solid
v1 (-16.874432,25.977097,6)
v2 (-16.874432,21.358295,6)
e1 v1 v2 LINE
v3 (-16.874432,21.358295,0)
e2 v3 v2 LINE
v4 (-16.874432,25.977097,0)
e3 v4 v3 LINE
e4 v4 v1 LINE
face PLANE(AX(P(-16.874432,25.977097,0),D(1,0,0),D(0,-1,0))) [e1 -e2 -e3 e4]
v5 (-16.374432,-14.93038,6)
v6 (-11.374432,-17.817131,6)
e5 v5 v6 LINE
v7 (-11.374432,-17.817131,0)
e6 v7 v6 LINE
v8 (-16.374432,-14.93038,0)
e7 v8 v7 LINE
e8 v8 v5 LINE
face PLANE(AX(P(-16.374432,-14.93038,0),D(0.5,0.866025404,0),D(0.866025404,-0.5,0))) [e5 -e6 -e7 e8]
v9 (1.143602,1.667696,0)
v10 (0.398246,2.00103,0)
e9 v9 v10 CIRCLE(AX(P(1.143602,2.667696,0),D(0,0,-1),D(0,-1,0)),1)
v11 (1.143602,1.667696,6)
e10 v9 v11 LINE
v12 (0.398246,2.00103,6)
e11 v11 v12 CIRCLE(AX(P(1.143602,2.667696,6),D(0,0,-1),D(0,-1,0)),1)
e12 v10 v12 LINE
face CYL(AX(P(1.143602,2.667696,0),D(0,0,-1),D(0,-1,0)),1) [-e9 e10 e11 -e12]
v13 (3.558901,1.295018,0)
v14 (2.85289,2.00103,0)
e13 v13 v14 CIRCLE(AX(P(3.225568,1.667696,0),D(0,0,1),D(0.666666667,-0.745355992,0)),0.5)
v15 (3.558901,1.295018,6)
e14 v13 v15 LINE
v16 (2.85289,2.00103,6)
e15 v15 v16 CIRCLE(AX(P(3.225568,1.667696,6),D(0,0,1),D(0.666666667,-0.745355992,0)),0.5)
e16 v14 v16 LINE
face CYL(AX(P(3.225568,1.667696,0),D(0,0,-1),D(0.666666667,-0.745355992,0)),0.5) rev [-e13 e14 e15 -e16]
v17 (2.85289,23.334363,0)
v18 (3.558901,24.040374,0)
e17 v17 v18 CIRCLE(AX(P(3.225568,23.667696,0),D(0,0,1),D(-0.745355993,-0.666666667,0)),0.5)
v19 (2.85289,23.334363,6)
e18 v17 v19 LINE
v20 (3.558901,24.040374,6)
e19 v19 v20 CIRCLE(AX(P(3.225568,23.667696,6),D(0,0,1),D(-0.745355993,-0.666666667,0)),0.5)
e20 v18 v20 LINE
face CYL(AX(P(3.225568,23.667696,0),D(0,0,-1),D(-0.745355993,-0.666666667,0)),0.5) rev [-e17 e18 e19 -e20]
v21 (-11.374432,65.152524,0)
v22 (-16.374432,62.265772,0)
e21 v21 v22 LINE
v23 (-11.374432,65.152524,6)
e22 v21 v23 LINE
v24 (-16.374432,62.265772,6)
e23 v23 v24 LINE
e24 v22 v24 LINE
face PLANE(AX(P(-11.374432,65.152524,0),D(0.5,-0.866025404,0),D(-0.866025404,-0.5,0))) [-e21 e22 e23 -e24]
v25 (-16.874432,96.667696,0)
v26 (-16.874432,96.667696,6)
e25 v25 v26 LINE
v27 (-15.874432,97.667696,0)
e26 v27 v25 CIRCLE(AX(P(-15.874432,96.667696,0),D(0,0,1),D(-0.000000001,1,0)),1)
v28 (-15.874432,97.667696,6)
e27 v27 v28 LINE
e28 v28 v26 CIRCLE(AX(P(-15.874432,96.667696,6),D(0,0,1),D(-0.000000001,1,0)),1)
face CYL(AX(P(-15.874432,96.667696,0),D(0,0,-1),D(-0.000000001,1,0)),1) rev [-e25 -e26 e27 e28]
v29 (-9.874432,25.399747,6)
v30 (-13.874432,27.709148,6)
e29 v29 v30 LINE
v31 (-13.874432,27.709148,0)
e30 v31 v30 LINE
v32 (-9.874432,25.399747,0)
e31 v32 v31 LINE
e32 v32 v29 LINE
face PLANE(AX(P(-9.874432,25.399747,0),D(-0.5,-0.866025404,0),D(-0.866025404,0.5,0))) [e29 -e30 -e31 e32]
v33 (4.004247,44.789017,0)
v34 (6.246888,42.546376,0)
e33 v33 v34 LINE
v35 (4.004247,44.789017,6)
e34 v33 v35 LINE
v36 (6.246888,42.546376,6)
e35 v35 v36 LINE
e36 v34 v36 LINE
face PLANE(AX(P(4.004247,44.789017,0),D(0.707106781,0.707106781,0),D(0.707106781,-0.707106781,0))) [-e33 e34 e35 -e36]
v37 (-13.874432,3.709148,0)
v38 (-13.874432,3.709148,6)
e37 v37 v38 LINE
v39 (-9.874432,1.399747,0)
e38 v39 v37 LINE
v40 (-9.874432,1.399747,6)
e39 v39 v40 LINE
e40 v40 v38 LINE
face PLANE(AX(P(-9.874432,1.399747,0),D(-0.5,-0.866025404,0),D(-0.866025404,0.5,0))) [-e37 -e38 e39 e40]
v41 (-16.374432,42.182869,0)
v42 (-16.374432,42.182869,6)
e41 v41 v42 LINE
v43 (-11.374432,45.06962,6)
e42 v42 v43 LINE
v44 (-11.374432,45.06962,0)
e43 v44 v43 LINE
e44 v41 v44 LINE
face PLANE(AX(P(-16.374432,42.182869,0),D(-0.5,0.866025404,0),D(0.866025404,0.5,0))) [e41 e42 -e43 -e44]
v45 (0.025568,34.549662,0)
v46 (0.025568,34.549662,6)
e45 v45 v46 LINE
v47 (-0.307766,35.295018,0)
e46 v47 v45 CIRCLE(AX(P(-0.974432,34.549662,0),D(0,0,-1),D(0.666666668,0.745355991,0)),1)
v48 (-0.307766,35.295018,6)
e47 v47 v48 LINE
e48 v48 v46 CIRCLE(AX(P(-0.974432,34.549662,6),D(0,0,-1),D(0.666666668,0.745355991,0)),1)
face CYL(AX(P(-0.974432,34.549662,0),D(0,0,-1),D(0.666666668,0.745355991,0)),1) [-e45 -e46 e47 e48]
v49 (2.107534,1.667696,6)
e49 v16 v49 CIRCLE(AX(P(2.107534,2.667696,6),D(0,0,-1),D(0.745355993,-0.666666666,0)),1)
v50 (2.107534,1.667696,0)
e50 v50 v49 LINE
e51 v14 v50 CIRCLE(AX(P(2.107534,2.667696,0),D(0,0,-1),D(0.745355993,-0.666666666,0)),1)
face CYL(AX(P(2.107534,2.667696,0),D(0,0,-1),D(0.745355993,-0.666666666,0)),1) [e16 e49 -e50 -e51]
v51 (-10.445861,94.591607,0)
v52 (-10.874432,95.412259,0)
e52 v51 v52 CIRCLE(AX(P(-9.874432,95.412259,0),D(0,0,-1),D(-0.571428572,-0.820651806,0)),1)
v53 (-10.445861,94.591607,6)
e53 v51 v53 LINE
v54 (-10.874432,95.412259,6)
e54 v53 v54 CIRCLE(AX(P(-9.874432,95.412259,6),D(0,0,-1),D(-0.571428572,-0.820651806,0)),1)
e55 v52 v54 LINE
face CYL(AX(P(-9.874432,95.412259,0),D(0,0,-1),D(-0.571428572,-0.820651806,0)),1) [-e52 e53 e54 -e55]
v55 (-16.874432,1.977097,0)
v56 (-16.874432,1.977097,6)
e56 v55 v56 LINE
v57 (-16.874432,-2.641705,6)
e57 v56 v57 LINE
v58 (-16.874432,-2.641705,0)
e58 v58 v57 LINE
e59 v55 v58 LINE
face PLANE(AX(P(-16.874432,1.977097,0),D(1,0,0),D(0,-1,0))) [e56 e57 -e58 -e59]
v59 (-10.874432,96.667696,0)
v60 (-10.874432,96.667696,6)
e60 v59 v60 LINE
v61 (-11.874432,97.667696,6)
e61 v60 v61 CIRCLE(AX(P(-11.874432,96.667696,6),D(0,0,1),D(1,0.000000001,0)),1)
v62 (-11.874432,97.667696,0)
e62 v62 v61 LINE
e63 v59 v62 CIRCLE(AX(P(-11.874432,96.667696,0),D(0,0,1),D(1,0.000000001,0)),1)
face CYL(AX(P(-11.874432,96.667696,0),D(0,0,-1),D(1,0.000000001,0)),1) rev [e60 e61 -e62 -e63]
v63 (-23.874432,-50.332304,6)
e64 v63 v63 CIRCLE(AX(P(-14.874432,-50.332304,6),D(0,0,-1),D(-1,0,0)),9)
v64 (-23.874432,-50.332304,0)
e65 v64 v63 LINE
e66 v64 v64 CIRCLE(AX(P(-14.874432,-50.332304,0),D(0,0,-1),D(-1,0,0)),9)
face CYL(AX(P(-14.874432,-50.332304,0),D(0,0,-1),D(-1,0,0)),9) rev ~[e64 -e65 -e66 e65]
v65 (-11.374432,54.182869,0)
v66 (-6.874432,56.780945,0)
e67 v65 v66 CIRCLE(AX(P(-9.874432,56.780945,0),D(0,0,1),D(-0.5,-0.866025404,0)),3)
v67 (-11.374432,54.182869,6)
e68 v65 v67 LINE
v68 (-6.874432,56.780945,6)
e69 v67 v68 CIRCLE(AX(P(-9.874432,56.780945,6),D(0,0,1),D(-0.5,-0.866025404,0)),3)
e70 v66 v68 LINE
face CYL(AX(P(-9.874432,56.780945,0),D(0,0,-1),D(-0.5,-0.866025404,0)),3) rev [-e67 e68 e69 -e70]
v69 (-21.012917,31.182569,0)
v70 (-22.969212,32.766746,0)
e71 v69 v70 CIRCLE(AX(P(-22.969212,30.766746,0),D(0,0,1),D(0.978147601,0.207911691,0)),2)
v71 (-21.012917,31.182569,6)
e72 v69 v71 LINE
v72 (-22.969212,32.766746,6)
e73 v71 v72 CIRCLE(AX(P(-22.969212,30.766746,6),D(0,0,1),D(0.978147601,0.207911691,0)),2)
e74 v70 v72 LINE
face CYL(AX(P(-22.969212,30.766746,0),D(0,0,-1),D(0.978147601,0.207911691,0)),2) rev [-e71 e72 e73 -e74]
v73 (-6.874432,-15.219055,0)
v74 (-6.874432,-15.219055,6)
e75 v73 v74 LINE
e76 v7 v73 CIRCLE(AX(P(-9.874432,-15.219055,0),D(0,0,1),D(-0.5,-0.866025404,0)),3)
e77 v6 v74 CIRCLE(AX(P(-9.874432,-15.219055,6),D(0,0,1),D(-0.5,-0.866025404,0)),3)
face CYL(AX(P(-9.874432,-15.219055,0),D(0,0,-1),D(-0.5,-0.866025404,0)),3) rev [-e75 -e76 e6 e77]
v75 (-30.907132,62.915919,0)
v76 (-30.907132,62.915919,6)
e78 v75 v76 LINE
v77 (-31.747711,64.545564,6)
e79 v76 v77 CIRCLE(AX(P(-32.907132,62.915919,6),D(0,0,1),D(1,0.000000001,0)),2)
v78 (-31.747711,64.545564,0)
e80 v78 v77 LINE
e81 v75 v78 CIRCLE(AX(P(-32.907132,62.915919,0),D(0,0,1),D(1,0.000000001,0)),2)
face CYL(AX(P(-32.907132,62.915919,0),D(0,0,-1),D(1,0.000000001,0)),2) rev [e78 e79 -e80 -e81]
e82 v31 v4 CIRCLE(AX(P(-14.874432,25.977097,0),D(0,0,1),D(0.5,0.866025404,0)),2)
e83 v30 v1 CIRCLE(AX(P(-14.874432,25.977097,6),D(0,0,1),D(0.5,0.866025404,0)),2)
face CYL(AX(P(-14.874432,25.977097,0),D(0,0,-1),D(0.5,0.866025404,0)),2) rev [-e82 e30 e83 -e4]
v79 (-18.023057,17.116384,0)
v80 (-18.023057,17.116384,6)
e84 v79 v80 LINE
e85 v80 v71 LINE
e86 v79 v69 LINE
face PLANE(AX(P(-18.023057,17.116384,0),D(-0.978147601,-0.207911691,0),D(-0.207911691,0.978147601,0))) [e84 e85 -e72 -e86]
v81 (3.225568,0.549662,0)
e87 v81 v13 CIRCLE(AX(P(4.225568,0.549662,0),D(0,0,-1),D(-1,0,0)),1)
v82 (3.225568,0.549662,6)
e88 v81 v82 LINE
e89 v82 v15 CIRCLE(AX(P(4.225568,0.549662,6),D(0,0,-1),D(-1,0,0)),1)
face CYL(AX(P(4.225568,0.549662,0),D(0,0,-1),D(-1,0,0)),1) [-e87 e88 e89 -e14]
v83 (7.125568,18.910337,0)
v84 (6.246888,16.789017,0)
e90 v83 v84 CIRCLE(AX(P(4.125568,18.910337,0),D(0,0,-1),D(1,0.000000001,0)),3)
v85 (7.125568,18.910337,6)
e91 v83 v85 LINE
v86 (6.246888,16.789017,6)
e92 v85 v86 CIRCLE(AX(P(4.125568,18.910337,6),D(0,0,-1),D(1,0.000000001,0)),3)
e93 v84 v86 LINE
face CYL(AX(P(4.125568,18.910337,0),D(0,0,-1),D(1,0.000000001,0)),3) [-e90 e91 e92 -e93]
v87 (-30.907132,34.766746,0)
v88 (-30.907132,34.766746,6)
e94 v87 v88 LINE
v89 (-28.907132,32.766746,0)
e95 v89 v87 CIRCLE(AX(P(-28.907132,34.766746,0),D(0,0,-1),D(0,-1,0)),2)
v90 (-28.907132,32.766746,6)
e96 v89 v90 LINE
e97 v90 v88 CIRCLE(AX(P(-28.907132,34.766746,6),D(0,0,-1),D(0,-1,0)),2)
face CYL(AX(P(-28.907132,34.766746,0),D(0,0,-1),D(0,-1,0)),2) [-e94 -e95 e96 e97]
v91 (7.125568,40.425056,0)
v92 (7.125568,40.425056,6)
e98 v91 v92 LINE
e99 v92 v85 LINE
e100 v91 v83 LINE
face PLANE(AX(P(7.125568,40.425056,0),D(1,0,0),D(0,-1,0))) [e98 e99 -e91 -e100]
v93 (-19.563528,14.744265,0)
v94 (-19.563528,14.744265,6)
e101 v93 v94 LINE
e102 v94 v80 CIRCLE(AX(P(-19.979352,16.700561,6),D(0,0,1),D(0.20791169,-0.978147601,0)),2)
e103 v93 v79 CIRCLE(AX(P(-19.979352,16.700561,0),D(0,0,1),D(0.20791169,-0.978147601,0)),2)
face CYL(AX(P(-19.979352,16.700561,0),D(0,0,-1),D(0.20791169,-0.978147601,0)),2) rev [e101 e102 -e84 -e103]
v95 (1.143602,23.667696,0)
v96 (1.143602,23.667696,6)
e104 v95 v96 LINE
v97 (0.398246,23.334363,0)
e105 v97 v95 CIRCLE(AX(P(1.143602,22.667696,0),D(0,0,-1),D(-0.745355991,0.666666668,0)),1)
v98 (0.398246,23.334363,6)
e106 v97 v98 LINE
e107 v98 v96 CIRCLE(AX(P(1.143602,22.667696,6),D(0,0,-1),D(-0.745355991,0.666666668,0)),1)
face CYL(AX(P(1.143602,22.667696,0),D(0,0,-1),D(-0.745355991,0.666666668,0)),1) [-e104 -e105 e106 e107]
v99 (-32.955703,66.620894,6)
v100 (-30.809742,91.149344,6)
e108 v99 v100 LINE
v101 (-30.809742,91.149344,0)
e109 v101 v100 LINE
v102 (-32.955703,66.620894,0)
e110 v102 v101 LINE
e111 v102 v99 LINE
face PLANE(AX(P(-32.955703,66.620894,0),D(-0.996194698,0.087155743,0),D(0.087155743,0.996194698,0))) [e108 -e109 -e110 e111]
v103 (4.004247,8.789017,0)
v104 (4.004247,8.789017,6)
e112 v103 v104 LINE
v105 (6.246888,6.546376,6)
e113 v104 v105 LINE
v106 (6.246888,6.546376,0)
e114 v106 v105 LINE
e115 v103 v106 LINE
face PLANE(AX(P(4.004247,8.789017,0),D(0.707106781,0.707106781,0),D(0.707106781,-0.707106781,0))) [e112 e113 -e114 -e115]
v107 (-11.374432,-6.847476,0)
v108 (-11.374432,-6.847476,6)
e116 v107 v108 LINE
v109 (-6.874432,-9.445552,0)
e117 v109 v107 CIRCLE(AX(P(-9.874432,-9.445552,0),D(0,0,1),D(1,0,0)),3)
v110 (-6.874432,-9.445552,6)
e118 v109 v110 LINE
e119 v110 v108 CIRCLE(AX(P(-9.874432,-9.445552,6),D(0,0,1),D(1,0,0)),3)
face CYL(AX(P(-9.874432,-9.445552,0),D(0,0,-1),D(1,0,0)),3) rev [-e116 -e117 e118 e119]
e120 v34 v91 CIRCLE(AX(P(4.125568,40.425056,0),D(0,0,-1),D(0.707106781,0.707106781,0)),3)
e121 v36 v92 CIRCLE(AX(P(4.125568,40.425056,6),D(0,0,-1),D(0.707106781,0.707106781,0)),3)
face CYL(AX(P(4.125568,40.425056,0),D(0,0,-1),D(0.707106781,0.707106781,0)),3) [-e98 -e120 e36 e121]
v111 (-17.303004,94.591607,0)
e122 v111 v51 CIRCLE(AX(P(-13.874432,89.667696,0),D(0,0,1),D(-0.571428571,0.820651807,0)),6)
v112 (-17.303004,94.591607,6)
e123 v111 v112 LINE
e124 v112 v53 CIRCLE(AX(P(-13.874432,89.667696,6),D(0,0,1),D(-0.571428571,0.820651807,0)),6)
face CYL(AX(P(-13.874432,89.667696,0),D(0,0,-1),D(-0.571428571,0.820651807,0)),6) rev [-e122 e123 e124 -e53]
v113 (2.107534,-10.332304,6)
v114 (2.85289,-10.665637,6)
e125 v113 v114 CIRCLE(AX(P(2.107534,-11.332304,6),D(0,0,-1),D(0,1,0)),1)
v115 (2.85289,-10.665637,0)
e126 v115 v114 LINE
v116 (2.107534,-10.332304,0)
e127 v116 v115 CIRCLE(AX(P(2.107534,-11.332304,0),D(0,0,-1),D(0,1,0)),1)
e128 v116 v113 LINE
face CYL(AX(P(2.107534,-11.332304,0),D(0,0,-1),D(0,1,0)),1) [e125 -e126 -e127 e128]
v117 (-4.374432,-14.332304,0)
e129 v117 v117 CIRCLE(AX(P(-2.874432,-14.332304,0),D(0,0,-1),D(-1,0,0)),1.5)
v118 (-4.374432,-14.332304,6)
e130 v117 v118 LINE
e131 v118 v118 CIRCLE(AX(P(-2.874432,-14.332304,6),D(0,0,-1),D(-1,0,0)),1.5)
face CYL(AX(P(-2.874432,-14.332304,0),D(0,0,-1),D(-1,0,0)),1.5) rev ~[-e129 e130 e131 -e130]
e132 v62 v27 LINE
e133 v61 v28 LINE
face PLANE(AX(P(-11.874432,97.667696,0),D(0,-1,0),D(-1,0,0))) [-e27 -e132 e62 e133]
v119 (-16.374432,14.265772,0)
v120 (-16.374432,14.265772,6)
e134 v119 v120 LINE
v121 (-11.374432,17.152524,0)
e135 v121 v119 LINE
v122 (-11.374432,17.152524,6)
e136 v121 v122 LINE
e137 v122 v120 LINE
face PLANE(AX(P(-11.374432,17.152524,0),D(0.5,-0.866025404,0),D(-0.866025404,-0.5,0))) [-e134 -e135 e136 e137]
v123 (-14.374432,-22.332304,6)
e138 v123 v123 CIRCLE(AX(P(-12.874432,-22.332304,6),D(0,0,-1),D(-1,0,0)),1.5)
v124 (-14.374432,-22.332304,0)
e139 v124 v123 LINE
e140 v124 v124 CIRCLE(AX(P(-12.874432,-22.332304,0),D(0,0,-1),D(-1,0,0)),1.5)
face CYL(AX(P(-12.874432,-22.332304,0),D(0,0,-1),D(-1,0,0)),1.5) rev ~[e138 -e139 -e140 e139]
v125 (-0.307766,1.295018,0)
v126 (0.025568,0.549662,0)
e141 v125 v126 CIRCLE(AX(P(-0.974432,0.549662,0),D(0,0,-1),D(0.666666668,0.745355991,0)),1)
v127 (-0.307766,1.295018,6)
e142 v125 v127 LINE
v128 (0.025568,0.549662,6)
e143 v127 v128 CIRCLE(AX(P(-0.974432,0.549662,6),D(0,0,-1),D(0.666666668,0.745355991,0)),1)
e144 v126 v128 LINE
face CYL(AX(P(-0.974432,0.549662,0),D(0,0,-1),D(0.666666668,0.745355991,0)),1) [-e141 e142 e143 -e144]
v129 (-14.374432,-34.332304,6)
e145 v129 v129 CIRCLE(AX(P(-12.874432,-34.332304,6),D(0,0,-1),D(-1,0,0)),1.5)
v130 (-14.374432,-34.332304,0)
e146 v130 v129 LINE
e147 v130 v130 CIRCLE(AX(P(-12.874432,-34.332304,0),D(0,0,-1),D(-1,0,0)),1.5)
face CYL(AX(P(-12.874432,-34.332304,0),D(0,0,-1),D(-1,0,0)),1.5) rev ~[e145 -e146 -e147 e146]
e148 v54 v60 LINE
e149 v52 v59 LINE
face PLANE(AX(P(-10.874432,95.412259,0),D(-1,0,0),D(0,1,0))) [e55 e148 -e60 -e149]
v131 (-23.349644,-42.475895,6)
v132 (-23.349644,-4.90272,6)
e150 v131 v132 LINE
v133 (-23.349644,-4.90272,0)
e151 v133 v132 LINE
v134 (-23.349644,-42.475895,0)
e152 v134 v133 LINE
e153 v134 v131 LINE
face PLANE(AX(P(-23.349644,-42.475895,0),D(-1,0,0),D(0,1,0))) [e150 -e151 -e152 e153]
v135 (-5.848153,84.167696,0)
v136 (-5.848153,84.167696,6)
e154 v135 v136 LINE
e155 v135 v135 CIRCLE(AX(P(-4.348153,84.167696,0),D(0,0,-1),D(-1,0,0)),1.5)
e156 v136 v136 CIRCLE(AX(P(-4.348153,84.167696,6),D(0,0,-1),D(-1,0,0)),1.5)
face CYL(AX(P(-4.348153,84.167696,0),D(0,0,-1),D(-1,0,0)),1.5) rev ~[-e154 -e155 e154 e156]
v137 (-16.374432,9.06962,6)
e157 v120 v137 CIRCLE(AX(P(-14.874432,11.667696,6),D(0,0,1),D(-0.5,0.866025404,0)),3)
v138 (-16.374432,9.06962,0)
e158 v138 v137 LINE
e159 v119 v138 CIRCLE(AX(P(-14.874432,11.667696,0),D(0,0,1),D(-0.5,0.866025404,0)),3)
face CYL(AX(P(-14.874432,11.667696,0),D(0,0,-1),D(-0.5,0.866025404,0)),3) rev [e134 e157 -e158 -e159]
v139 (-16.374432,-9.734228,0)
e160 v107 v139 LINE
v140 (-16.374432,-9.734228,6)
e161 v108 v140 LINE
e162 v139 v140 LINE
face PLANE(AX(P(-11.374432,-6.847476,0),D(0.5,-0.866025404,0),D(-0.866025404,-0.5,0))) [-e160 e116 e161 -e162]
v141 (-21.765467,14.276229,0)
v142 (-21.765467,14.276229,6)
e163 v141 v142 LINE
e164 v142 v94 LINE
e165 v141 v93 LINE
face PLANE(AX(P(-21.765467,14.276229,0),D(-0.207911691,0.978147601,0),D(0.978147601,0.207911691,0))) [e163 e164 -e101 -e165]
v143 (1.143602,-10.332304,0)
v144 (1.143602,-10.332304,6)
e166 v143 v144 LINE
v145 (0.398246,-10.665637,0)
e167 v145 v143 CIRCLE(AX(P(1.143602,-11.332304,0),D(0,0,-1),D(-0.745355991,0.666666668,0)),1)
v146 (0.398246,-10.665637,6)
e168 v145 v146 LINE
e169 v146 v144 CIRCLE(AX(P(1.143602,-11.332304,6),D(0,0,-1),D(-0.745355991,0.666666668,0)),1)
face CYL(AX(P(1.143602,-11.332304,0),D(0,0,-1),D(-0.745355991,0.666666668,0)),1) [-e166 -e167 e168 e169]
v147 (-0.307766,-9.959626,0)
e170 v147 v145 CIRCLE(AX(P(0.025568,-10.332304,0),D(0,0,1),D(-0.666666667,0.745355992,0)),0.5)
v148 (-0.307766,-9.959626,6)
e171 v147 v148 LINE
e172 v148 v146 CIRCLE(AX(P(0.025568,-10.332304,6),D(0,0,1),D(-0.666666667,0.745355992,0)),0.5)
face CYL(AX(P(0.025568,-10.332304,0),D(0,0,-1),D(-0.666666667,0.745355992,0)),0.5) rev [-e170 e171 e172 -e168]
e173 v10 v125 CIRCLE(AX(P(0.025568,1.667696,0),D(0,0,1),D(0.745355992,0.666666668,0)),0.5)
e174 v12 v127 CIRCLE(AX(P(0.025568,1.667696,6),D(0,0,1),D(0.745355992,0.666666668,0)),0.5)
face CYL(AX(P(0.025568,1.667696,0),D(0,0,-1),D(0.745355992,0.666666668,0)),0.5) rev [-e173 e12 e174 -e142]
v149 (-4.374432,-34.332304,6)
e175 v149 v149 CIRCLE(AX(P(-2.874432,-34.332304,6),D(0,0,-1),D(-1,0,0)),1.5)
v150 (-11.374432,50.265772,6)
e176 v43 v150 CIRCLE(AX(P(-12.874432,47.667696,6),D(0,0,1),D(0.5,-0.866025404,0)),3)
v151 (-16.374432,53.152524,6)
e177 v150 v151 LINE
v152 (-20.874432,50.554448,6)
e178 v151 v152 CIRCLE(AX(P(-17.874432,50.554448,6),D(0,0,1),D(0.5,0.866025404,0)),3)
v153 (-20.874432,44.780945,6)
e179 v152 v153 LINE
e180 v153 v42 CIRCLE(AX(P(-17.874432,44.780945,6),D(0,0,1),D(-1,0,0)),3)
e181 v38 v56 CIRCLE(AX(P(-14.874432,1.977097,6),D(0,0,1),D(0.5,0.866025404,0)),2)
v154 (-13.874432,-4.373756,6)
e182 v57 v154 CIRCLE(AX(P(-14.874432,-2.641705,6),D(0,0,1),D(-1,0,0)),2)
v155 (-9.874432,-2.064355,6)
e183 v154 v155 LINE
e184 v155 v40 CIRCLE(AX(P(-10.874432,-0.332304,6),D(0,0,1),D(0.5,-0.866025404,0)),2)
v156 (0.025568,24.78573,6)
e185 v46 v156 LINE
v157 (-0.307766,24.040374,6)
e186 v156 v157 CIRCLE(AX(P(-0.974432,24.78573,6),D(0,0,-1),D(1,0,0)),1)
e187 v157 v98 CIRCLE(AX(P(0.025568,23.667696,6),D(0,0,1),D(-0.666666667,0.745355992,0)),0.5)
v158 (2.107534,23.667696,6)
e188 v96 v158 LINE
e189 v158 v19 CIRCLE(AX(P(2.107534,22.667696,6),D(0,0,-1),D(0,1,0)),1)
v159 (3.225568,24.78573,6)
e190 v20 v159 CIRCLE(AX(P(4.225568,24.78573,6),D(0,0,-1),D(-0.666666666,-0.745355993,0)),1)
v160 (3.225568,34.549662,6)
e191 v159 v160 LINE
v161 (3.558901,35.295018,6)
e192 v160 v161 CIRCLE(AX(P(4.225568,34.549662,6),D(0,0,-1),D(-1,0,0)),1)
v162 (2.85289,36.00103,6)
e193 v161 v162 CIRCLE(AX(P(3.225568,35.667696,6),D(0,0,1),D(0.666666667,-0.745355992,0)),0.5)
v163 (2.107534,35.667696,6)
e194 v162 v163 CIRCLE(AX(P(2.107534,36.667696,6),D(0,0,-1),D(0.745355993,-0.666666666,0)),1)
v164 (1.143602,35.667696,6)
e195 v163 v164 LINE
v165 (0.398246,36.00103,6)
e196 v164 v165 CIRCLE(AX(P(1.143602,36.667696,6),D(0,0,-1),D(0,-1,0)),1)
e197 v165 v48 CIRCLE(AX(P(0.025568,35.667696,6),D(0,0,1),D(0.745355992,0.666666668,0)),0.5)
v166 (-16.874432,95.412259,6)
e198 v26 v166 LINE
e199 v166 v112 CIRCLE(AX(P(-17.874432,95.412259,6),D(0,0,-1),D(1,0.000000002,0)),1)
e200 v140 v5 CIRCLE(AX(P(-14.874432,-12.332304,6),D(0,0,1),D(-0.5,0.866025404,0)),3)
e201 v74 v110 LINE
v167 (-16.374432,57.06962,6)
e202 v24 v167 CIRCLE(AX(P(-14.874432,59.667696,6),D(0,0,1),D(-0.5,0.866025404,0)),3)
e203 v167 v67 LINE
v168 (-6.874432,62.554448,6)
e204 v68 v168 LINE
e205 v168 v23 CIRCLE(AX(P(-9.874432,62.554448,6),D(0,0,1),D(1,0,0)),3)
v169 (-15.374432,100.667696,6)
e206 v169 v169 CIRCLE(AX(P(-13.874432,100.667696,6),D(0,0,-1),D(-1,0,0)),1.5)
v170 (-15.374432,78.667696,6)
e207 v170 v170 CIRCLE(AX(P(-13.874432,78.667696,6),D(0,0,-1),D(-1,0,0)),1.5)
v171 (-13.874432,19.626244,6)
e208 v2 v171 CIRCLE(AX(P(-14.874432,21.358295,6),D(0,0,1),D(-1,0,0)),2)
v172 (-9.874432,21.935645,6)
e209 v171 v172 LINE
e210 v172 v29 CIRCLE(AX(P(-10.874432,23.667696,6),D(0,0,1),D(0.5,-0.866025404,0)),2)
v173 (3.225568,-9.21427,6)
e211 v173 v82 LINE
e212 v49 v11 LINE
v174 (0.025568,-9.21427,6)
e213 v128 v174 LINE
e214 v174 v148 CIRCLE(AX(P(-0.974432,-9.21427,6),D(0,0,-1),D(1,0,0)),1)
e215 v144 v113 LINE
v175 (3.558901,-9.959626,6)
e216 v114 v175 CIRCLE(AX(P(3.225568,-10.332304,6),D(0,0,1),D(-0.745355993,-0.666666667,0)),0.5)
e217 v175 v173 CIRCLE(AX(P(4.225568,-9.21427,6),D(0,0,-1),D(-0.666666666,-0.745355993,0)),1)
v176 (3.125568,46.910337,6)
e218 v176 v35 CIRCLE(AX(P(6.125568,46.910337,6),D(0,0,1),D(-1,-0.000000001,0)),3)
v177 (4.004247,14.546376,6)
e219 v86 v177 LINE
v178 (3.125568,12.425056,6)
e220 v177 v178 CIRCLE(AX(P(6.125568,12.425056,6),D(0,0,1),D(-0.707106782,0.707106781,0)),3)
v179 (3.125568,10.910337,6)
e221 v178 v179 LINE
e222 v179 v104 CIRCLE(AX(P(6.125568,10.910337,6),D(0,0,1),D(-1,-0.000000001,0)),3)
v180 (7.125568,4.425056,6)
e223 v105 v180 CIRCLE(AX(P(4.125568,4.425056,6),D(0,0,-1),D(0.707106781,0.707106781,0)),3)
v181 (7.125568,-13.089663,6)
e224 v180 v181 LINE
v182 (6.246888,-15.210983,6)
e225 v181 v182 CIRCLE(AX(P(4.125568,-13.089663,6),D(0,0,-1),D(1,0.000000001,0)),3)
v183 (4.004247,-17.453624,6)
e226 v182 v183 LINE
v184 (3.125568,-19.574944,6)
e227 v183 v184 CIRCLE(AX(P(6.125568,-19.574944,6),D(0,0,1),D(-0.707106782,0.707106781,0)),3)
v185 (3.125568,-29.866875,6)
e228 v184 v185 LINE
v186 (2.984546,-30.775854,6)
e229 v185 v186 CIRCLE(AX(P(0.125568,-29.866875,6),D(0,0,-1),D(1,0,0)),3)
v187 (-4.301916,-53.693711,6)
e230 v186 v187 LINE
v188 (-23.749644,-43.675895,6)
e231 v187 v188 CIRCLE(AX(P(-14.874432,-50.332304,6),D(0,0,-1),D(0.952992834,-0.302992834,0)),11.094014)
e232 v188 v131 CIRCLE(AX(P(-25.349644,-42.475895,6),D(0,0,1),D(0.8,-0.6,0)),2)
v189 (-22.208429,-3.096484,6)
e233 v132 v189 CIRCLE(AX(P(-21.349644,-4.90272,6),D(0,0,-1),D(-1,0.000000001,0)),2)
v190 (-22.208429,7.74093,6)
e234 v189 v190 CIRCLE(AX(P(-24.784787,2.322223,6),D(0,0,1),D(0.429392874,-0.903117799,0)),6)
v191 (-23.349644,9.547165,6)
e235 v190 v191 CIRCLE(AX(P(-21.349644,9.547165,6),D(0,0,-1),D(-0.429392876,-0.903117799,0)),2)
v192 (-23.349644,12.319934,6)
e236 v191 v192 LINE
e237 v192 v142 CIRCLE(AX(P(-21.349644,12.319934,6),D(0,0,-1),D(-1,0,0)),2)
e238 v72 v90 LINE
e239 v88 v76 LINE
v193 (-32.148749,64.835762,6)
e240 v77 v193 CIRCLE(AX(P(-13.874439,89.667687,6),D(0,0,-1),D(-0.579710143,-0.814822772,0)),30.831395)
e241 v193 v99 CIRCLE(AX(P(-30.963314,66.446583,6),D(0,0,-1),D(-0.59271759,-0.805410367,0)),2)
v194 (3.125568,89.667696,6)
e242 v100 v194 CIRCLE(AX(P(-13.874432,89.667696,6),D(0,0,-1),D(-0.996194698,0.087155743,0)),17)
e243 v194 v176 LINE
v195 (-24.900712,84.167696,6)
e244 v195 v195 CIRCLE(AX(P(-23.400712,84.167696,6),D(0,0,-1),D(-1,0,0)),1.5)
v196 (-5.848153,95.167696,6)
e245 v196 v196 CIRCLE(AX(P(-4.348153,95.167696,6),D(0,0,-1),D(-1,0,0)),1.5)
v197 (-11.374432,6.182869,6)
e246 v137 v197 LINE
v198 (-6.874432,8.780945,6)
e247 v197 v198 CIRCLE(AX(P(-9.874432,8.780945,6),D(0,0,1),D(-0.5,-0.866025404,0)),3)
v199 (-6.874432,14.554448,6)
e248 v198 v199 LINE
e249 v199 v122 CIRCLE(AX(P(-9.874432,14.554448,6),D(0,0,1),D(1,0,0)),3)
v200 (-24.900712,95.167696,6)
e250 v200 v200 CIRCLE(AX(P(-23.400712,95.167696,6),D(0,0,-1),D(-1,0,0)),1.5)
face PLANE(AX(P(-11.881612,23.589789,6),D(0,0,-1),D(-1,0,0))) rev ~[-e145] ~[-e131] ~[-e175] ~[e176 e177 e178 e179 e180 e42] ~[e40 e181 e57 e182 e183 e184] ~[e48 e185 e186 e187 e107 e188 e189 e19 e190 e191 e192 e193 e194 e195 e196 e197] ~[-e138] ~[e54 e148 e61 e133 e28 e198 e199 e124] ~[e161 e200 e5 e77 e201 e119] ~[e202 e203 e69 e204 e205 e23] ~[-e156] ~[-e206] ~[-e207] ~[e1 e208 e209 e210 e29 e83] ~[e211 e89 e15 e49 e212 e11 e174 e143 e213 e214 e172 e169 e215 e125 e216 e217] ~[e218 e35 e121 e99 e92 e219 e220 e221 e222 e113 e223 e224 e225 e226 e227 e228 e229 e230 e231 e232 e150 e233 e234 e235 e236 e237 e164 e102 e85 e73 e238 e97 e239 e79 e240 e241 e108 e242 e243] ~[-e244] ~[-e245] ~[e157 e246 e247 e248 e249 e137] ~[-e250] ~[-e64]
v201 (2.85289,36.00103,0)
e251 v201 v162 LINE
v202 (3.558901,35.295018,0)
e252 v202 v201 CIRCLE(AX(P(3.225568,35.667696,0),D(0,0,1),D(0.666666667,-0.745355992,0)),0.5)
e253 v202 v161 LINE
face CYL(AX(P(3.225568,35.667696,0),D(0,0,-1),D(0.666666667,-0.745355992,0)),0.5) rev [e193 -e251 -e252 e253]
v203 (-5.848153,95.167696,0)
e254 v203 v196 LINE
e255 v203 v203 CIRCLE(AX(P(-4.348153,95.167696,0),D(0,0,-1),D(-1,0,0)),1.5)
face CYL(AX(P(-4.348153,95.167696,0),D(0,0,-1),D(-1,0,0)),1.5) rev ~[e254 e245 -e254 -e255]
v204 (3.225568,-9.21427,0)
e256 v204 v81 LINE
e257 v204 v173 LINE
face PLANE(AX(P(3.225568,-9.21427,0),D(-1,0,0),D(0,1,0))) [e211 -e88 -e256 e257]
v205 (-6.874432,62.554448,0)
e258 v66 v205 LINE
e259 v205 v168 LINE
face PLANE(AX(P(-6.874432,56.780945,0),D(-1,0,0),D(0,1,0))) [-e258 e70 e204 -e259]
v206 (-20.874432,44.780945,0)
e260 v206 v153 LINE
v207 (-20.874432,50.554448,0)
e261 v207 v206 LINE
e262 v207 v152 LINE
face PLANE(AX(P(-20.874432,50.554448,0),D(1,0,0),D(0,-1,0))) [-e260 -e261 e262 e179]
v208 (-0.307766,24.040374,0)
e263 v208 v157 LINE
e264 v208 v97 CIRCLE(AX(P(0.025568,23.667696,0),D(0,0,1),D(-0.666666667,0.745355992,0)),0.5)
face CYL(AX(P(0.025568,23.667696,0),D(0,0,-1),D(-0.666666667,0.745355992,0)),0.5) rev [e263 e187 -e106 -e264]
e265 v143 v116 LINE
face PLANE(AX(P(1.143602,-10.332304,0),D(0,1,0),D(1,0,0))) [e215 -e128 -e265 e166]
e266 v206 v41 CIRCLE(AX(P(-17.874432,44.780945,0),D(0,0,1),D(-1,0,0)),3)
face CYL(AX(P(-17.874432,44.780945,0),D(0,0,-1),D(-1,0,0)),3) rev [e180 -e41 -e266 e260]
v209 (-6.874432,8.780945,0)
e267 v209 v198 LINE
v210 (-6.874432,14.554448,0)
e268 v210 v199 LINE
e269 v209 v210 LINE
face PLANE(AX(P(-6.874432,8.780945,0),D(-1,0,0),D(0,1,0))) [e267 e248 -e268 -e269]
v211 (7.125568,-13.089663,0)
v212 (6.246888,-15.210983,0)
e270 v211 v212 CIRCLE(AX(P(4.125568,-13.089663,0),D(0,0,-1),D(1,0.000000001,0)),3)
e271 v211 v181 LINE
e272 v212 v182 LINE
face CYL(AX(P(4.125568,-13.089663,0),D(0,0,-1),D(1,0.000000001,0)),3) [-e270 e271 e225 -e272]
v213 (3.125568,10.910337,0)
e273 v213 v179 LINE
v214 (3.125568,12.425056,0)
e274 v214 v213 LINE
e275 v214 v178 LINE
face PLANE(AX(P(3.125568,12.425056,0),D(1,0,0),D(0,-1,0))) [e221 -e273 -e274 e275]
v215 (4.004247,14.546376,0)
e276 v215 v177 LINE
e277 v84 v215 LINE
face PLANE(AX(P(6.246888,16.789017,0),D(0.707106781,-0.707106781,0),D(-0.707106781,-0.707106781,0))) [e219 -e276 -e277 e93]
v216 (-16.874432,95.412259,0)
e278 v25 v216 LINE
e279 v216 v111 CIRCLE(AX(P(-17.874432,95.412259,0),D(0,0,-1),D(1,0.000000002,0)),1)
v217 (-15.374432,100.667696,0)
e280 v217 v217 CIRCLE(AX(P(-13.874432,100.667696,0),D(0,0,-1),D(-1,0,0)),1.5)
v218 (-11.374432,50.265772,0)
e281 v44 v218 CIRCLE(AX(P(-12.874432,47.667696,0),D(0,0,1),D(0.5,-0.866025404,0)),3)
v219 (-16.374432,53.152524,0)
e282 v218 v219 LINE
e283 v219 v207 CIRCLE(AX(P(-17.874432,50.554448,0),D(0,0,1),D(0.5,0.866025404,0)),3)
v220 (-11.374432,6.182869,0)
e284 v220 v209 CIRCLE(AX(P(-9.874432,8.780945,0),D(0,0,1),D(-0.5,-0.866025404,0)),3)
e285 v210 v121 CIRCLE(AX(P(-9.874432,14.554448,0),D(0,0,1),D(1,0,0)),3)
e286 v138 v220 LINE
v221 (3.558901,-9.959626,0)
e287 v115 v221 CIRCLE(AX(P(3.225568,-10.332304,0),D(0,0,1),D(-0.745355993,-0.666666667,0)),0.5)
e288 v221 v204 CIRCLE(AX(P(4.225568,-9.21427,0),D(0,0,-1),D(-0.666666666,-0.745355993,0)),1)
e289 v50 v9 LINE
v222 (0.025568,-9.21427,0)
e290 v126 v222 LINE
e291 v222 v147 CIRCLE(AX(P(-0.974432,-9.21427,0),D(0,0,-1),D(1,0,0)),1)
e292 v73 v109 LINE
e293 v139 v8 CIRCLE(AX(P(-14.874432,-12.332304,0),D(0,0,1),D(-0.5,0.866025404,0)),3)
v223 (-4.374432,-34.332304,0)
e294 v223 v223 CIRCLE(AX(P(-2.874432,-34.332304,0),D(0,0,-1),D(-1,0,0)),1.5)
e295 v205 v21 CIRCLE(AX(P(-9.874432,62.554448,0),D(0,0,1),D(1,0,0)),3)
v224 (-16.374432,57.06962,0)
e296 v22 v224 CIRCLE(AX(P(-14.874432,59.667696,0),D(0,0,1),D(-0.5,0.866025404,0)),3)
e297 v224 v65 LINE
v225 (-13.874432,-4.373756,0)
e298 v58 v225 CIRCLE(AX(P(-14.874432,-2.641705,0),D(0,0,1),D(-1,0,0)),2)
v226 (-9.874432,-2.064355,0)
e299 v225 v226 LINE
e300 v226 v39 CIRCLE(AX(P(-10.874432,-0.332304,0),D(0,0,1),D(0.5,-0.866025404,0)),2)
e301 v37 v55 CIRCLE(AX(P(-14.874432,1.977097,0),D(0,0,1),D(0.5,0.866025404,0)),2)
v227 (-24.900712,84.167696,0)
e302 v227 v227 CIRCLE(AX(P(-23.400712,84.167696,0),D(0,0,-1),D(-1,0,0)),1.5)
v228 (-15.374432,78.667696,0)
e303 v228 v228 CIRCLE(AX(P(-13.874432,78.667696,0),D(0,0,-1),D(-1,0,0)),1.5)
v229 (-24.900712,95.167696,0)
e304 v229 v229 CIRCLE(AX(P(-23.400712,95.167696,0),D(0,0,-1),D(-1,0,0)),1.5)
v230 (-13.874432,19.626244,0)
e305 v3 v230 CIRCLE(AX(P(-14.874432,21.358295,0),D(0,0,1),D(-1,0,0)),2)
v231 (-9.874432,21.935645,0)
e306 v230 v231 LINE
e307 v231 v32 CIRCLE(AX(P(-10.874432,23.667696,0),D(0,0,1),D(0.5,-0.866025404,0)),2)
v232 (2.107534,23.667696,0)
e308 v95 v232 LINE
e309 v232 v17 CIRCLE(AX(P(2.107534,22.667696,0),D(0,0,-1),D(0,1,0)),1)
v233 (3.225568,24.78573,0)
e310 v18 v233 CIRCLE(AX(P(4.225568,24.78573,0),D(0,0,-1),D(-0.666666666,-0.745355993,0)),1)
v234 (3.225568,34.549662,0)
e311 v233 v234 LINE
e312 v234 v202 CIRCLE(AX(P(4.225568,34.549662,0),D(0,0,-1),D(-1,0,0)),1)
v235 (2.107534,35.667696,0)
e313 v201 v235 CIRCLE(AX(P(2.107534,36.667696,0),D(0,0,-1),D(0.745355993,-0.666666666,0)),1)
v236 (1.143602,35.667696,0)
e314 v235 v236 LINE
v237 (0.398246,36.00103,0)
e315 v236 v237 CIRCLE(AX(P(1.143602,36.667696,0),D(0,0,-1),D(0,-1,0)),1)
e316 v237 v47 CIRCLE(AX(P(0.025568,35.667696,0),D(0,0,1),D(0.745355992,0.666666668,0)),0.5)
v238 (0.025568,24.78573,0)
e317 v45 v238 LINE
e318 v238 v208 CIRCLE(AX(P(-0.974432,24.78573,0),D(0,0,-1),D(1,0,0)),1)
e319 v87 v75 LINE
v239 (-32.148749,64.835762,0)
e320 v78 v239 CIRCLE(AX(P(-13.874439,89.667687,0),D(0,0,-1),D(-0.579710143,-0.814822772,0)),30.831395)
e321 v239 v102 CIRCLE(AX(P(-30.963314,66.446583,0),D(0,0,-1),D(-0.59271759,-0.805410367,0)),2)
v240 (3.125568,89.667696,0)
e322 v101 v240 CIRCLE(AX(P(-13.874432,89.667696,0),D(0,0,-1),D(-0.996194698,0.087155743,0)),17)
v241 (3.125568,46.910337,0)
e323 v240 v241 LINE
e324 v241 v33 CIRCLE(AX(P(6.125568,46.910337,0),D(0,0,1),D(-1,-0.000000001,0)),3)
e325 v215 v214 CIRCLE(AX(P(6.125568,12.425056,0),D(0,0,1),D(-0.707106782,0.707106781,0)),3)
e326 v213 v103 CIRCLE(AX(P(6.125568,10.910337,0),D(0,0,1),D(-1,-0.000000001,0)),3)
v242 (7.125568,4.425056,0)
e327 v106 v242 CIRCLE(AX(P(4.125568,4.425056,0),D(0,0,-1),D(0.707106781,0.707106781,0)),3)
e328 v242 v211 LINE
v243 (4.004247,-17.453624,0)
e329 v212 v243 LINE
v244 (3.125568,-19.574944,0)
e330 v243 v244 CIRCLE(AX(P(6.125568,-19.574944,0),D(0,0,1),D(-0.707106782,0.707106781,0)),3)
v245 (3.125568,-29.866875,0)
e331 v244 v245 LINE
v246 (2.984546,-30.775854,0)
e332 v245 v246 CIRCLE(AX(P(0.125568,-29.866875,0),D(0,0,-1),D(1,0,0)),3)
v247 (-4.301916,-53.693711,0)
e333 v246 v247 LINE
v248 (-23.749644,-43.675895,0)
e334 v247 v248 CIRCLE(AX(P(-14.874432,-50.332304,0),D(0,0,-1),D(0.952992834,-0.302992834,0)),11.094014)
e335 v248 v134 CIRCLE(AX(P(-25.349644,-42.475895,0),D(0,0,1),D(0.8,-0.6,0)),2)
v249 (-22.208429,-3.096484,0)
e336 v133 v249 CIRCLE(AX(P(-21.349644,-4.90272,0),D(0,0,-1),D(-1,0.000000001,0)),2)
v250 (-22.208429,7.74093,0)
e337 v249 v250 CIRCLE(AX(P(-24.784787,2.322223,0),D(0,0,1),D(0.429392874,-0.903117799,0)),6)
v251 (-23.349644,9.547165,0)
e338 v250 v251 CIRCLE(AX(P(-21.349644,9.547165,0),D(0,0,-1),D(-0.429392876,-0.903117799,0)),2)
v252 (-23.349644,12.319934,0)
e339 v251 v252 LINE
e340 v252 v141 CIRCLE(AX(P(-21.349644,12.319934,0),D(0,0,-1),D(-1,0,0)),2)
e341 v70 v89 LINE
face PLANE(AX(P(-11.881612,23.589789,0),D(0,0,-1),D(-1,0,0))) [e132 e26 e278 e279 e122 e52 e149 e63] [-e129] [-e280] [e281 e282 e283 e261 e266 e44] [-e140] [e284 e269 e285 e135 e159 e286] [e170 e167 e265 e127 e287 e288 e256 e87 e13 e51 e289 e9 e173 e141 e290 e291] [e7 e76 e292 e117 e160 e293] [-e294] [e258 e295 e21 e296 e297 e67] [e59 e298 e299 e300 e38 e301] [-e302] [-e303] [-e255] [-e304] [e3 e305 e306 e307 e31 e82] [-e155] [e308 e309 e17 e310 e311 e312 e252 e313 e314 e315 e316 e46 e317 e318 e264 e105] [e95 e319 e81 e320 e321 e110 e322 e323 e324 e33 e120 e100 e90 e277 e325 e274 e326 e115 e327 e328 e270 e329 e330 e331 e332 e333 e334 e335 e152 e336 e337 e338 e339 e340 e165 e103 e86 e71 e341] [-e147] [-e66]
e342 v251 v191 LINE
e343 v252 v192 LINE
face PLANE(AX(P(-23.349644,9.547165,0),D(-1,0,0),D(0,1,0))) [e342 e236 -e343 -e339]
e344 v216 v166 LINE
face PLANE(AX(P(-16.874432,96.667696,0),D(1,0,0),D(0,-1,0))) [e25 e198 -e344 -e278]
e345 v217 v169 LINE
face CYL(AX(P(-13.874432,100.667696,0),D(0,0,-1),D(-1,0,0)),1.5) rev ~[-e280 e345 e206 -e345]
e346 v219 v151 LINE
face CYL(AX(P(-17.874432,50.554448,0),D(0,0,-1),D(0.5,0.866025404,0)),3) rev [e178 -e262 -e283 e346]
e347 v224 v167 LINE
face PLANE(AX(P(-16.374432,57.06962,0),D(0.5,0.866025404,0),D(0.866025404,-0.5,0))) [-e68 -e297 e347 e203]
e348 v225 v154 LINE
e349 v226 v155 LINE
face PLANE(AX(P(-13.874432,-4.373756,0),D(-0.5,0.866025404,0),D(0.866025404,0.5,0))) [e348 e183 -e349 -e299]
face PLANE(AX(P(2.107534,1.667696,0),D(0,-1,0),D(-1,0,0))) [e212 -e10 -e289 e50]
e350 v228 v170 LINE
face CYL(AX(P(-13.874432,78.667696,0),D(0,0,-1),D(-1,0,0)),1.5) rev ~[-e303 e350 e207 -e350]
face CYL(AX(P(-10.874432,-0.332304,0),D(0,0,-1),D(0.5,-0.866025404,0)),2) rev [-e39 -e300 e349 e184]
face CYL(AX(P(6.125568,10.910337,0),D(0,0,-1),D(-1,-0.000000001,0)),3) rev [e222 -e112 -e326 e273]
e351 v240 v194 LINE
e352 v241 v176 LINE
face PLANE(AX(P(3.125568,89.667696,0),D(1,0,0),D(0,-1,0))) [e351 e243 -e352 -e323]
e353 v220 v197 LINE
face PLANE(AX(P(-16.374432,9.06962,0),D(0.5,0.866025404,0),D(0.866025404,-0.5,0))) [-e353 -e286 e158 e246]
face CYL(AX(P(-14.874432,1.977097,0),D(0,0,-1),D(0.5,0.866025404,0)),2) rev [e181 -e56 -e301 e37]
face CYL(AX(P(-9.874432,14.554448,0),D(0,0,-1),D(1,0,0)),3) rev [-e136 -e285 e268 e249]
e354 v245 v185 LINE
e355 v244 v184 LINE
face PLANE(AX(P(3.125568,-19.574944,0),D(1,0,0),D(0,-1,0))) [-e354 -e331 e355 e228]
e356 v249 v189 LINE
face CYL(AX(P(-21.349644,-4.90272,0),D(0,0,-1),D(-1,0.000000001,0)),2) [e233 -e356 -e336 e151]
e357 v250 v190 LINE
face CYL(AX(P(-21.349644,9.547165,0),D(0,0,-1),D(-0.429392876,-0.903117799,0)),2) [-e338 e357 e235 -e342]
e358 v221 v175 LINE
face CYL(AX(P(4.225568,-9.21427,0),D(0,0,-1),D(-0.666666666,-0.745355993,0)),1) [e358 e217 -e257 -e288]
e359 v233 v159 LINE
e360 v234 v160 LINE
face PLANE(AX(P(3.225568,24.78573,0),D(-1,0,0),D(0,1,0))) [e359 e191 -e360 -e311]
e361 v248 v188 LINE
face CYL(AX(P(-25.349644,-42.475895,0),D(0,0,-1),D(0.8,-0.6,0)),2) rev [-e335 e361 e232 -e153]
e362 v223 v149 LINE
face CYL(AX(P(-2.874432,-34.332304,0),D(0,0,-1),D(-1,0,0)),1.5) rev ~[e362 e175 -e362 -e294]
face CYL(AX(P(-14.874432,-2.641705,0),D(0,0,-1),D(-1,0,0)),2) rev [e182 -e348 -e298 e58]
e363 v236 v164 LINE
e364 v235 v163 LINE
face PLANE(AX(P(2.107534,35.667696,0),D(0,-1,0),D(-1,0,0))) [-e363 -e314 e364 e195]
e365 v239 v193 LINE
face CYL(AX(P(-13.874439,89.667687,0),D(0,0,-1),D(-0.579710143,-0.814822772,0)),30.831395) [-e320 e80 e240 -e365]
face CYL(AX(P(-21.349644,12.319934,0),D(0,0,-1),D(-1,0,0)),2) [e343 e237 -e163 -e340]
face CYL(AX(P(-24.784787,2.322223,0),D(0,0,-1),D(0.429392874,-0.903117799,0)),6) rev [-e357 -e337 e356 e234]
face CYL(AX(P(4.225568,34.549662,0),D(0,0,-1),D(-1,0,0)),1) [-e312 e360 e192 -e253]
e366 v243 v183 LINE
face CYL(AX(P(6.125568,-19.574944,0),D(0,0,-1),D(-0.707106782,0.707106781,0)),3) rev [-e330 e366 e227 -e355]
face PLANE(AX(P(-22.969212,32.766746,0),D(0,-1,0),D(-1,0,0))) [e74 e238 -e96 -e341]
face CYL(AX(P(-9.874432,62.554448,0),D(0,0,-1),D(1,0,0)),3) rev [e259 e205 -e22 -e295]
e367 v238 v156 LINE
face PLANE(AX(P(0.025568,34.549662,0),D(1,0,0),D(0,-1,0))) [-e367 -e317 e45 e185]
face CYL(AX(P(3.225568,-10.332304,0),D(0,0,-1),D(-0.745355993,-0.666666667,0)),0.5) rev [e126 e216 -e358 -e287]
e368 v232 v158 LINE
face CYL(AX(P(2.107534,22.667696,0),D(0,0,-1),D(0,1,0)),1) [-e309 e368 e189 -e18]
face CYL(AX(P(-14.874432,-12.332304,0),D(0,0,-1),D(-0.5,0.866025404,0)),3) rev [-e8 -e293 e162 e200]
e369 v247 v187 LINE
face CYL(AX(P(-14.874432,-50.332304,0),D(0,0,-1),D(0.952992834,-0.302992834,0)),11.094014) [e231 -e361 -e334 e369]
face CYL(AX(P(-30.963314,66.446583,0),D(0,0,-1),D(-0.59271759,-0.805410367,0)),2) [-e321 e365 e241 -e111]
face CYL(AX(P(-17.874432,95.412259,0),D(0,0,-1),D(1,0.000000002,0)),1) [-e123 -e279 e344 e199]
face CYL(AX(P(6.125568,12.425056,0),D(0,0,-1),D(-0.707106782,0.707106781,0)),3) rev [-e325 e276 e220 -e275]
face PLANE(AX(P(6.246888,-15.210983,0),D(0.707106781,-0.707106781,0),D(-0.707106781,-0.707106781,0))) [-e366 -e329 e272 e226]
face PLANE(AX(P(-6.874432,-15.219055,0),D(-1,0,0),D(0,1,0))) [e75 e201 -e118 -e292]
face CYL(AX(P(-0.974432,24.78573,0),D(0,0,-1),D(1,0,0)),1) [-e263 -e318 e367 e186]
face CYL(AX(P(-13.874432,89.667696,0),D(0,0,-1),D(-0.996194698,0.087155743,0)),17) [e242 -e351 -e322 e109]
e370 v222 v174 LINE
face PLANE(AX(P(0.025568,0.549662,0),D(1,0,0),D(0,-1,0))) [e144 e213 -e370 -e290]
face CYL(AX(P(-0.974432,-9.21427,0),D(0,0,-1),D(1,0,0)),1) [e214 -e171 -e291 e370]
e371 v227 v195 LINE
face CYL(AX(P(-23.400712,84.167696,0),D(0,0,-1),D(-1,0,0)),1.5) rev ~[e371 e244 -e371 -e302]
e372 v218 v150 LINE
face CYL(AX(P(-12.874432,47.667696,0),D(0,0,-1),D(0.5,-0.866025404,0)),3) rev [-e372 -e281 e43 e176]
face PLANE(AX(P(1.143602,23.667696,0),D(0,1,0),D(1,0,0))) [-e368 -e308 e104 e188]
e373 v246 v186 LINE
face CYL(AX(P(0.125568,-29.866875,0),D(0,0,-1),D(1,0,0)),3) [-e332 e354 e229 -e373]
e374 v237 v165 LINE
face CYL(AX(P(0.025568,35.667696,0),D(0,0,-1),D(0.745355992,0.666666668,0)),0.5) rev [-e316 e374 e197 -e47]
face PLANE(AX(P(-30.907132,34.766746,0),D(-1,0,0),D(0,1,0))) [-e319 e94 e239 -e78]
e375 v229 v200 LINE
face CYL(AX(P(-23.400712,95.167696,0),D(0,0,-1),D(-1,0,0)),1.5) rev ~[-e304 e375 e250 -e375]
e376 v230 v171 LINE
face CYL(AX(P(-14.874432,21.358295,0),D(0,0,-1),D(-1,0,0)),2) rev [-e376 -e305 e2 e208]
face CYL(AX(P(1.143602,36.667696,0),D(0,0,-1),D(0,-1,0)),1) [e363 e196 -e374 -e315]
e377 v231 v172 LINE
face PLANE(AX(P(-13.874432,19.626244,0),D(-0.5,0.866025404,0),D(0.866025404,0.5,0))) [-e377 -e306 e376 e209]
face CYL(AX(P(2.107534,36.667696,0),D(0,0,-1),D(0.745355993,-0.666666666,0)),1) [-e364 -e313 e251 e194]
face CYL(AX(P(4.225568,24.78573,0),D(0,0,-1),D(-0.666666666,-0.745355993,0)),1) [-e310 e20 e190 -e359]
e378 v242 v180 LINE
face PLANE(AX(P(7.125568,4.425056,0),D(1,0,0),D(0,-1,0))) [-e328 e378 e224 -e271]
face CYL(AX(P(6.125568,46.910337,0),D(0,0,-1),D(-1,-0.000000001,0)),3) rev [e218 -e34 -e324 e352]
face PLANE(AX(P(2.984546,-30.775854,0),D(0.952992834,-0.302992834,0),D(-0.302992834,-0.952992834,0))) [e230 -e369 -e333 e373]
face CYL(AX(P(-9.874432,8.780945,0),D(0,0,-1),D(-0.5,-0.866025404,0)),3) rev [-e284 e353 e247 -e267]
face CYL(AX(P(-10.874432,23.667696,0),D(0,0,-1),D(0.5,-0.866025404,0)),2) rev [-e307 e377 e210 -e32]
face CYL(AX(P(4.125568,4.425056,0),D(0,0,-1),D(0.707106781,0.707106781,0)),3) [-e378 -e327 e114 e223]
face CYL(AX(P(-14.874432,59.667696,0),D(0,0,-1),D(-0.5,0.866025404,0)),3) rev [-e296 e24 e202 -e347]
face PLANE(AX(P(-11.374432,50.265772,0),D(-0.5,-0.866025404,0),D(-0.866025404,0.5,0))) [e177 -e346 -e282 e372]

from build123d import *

# Parameters (mm, degrees)
SKETCH_1_R      = 1.5
SKETCH_1_R_2    = 9
EXTRUDE_1_DEPTH = 6


with BuildPart() as part:
    # 草图1 → 凸台-拉伸1 (new body)
    with BuildSketch(Plane(origin=(0, 0, 0), x_dir=(-1, 0, 0), z_dir=(0, 0, -1))):
        with BuildLine():
            Line((32.955703333, 66.620894067), (30.80974204, 91.149343878))
            ThreePointArc((30.80974204, 91.149343878), (13.132902588, 106.651516018), (-3.125567827, 89.667696251))
            Line((-3.125567827, 89.667696251), (-3.125567827, 46.910336938))
            ThreePointArc((-3.125567827, 46.910336938), (-3.35392923, 45.762286641), (-4.004247484, 44.789016595))
            Line((-4.004247484, 44.789016595), (-6.246888171, 42.546375908))
            ThreePointArc((-6.246888171, 42.546375908), (-6.897206425, 41.573105861), (-7.125567827, 40.425055564))
            Line((-7.125567827, 40.425055564), (-7.125567827, 18.910336938))
            ThreePointArc((-7.125567827, 18.910336938), (-6.897206425, 17.762286641), (-6.246888171, 16.789016595))
            Line((-6.246888171, 16.789016595), (-4.004247484, 14.546375908))
            ThreePointArc((-4.004247484, 14.546375908), (-3.35392923, 13.573105861), (-3.125567827, 12.425055564))
            Line((-3.125567827, 12.425055564), (-3.125567827, 10.910336938))
            ThreePointArc((-3.125567827, 10.910336938), (-3.35392923, 9.762286641), (-4.004247484, 8.789016595))
            Line((-4.004247484, 8.789016595), (-6.246888171, 6.546375908))
            ThreePointArc((-6.246888171, 6.546375908), (-6.897206425, 5.573105861), (-7.125567827, 4.425055564))
            Line((-7.125567827, 4.425055564), (-7.125567827, -13.089663062))
            ThreePointArc((-7.125567827, -13.089663062), (-6.897206425, -14.237713359), (-6.246888171, -15.210983405))
            Line((-6.246888171, -15.210983405), (-4.004247484, -17.453624092))
            ThreePointArc((-4.004247484, -17.453624092), (-3.35392923, -18.426894139), (-3.125567827, -19.574944436))
            Line((-3.125567827, -19.574944436), (-3.125567827, -29.86687526))
            ThreePointArc((-3.125567827, -29.86687526), (-3.090102825, -30.326801608), (-2.98454633, -30.775853763))
            Line((-2.98454633, -30.775853763), (4.301916011, -53.693710595))
            ThreePointArc((4.301916011, -53.693710595), (19.95472423, -60.194746986), (23.749643638, -43.67589515))
            ThreePointArc((23.749643638, -43.67589515), (23.452277042, -43.108350682), (23.349643638, -42.47589515))
            Line((23.349643638, -42.47589515), (23.349643638, -4.902719504))
            ThreePointArc((23.349643638, -4.902719504), (23.040438051, -3.834443205), (22.208429387, -3.096483906))
            ThreePointArc((22.208429387, -3.096483906), (18.784786633, 2.32222289), (22.208429387, 7.740929686))
            ThreePointArc((22.208429387, 7.740929686), (23.040438051, 8.478888986), (23.349643638, 9.547165285))
            Line((23.349643638, 9.547165285), (23.349643638, 12.31993364))
            ThreePointArc((23.349643638, 12.31993364), (22.903935561, 13.578574422), (21.765467019, 14.276228841))
            Line((21.765467019, 14.276228841), (19.563528405, 14.744265342))
            ThreePointArc((19.563528405, 14.744265342), (18.30201065, 15.611282474), (18.023056585, 17.116383925))
            Line((18.023056585, 17.116383925), (21.012916503, 31.182568919))
            ThreePointArc((21.012916503, 31.182568919), (21.710570922, 32.32103746), (22.969211704, 32.766745537))
            Line((22.969211704, 32.766745537), (28.907131585, 32.766745537))
            ThreePointArc((28.907131585, 32.766745537), (30.321345148, 33.352531975), (30.907131585, 34.766745537))
            Line((30.907131585, 34.766745537), (30.907131585, 62.915918647))
            ThreePointArc((30.907131585, 62.915918647), (31.129655766, 63.83274999), (31.747711296, 64.545564189))
            ThreePointArc((31.747711296, 64.545564189), (31.948812633, 64.689858135), (32.148749116, 64.835761848))
            ThreePointArc((32.148749116, 64.835761848), (32.785761883, 65.622760099), (32.955703333, 66.620894067))
        make_face()
        with Locations((13.874432173, 100.667696251)):
            Circle(SKETCH_1_R, mode=Mode.SUBTRACT)
        with Locations((4.348152731, 95.167696251)):
            Circle(SKETCH_1_R, mode=Mode.SUBTRACT)
        with Locations((4.348152731, 84.167696251)):
            Circle(SKETCH_1_R, mode=Mode.SUBTRACT)
        with Locations((13.874432173, 78.667696251)):
            Circle(SKETCH_1_R, mode=Mode.SUBTRACT)
        with Locations((23.400711614, 84.167696251)):
            Circle(SKETCH_1_R, mode=Mode.SUBTRACT)
        with Locations((12.874432173, -22.332303749)):
            Circle(SKETCH_1_R, mode=Mode.SUBTRACT)
        with Locations((2.874432173, -14.332303749)):
            Circle(SKETCH_1_R, mode=Mode.SUBTRACT)
        with Locations((12.874432173, -34.332303749)):
            Circle(SKETCH_1_R, mode=Mode.SUBTRACT)
        with Locations((2.874432173, -34.332303749)):
            Circle(SKETCH_1_R, mode=Mode.SUBTRACT)
        with Locations((14.874432173, -50.332303749)):
            Circle(SKETCH_1_R_2, mode=Mode.SUBTRACT)
        with Locations((23.400711614, 95.167696251)):
            Circle(SKETCH_1_R, mode=Mode.SUBTRACT)
        with BuildLine():
            Line((-2.107533838, 35.667696251), (-1.143601816, 35.667696251))
            ThreePointArc((-1.143601816, 35.667696251), (-0.735353525, 35.754825322), (-0.398245823, 36.001029585))
            ThreePointArc((-0.398245823, 36.001029585), (0.327985563, 36.021249642), (0.307765506, 35.295018255))
            ThreePointArc((0.307765506, 35.295018255), (0.061561244, 34.957910553), (-0.025567827, 34.549662262))
            Line((-0.025567827, 34.549662262), (-0.025567827, 24.78573024))
            ThreePointArc((-0.025567827, 24.78573024), (0.061561244, 24.377481949), (0.307765506, 24.040374247))
            ThreePointArc((0.307765506, 24.040374247), (0.327985563, 23.314142861), (-0.398245823, 23.334362918))
            ThreePointArc((-0.398245823, 23.334362918), (-0.735353525, 23.58056718), (-1.143601816, 23.667696251))
            Line((-1.143601816, 23.667696251), (-2.107533838, 23.667696251))
            ThreePointArc((-2.107533838, 23.667696251), (-2.515782129, 23.58056718), (-2.852889831, 23.334362918))
            ThreePointArc((-2.852889831, 23.334362918), (-3.579121218, 23.314142861), (-3.558901161, 24.040374247))
            ThreePointArc((-3.558901161, 24.040374247), (-3.312696898, 24.377481949), (-3.225567827, 24.78573024))
            Line((-3.225567827, 24.78573024), (-3.225567827, 34.549662262))
            ThreePointArc((-3.225567827, 34.549662262), (-3.312696898, 34.957910553), (-3.558901161, 35.295018255))
            ThreePointArc((-3.558901161, 35.295018255), (-3.579121218, 36.021249642), (-2.852889831, 36.001029585))
            ThreePointArc((-2.852889831, 36.001029585), (-2.515782129, 35.754825322), (-2.107533838, 35.667696251))
        make_face(mode=Mode.SUBTRACT)
        with BuildLine():
            Line((10.874432173, 95.412258898), (10.874432173, 96.667696251))
            ThreePointArc((10.874432173, 96.667696251), (11.167325392, 97.374803032), (11.874432173, 97.667696251))
            Line((11.874432173, 97.667696251), (15.874432173, 97.667696251))
            ThreePointArc((15.874432173, 97.667696251), (16.581538954, 97.374803032), (16.874432173, 96.667696251))
            Line((16.874432173, 96.667696251), (16.874432173, 95.412258898))
            ThreePointArc((16.874432173, 95.412258898), (16.988026912, 94.949348848), (17.303003601, 94.591607091))
            ThreePointArc((17.303003601, 94.591607091), (13.874432173, 83.667696251), (10.445860744, 94.591607091))
            ThreePointArc((10.445860744, 94.591607091), (10.760837433, 94.949348848), (10.874432173, 95.412258898))
        make_face(mode=Mode.SUBTRACT)
        with BuildLine():
            Line((11.374432172, 65.152523811), (16.374432175, 62.265772463))
            ThreePointArc((16.374432175, 62.265772463), (17.874432175, 59.667696252), (16.374432175, 57.06962004))
            Line((16.374432175, 57.06962004), (11.374432172, 54.182868693))
            ThreePointArc((11.374432172, 54.182868693), (8.374432172, 54.182868693), (6.874432172, 56.780944904))
            Line((6.874432172, 56.780944904), (6.874432172, 62.5544476))
            ThreePointArc((6.874432172, 62.5544476), (8.374432172, 65.152523811), (11.374432172, 65.152523811))
        make_face(mode=Mode.SUBTRACT)
        with BuildLine():
            Line((6.874432172, 8.780944893), (6.874432172, 14.554447588))
            ThreePointArc((6.874432172, 14.554447588), (8.374432172, 17.1525238), (11.374432172, 17.1525238))
            Line((11.374432172, 17.1525238), (16.374432175, 14.265772452))
            ThreePointArc((16.374432175, 14.265772452), (17.874432175, 11.66769624), (16.374432175, 9.069620029))
            Line((16.374432175, 9.069620029), (11.374432172, 6.182868681))
            ThreePointArc((11.374432172, 6.182868681), (8.374432172, 6.182868681), (6.874432172, 8.780944893))
        make_face(mode=Mode.SUBTRACT)
        with BuildLine():
            Line((13.874432173, -4.373755645), (9.874432172, -2.064354567))
            ThreePointArc((9.874432172, -2.064354567), (8.874432172, -0.33230376), (9.874432172, 1.399747048))
            Line((9.874432172, 1.399747048), (13.874432173, 3.709148125))
            ThreePointArc((13.874432173, 3.709148125), (15.874432173, 3.709148125), (16.874432173, 1.977097318))
            Line((16.874432173, 1.977097318), (16.874432173, -2.641704837))
            ThreePointArc((16.874432173, -2.641704837), (15.874432173, -4.373755645), (13.874432173, -4.373755645))
        make_face(mode=Mode.SUBTRACT)
        with BuildLine():
            Line((6.874432172, -15.219055113), (6.874432172, -9.445552417))
            ThreePointArc((6.874432172, -9.445552417), (8.374432172, -6.847476206), (11.374432172, -6.847476206))
            Line((11.374432172, -6.847476206), (16.374432175, -9.734227554))
            ThreePointArc((16.374432175, -9.734227554), (17.874432175, -12.332303765), (16.374432175, -14.930379977))
            Line((16.374432175, -14.930379977), (11.374432172, -17.817131325))
            ThreePointArc((11.374432172, -17.817131325), (8.374432172, -17.817131325), (6.874432172, -15.219055113))
        make_face(mode=Mode.SUBTRACT)
        with BuildLine():
            Line((9.874432172, 25.399747048), (13.874432173, 27.709148125))
            ThreePointArc((13.874432173, 27.709148125), (15.874432173, 27.709148125), (16.874432173, 25.977097318))
            Line((16.874432173, 25.977097318), (16.874432173, 21.358295163))
            ThreePointArc((16.874432173, 21.358295163), (15.874432173, 19.626244355), (13.874432173, 19.626244355))
            Line((13.874432173, 19.626244355), (9.874432172, 21.935645433))
            ThreePointArc((9.874432172, 21.935645433), (8.874432172, 23.66769624), (9.874432172, 25.399747048))
        make_face(mode=Mode.SUBTRACT)
        with BuildLine():
            Line((20.874432175, 50.554447597), (20.874432175, 44.780944901))
            ThreePointArc((20.874432175, 44.780944901), (19.374432175, 42.18286869), (16.374432175, 42.18286869))
            Line((16.374432175, 42.18286869), (11.374432172, 45.069620038))
            ThreePointArc((11.374432172, 45.069620038), (9.874432172, 47.667696249), (11.374432172, 50.26577246))
            Line((11.374432172, 50.26577246), (16.374432175, 53.152523808))
            ThreePointArc((16.374432175, 53.152523808), (19.374432175, 53.152523808), (20.874432175, 50.554447597))
        make_face(mode=Mode.SUBTRACT)
        with BuildLine():
            Line((-3.225567827, -9.21426976), (-3.225567827, 0.549662262))
            ThreePointArc((-3.225567827, 0.549662262), (-3.312696898, 0.957910553), (-3.558901161, 1.295018255))
            ThreePointArc((-3.558901161, 1.295018255), (-3.579121218, 2.021249642), (-2.852889831, 2.001029585))
            ThreePointArc((-2.852889831, 2.001029585), (-2.515782129, 1.754825322), (-2.107533838, 1.667696251))
            Line((-2.107533838, 1.667696251), (-1.143601816, 1.667696251))
            ThreePointArc((-1.143601816, 1.667696251), (-0.735353525, 1.754825322), (-0.398245823, 2.001029585))
            ThreePointArc((-0.398245823, 2.001029585), (0.327985563, 2.021249642), (0.307765506, 1.295018255))
            ThreePointArc((0.307765506, 1.295018255), (0.061561244, 0.957910553), (-0.025567827, 0.549662262))
            Line((-0.025567827, 0.549662262), (-0.025567827, -9.21426976))
            ThreePointArc((-0.025567827, -9.21426976), (0.061561244, -9.622518051), (0.307765506, -9.959625753))
            ThreePointArc((0.307765506, -9.959625753), (0.327985563, -10.685857139), (-0.398245823, -10.665637082))
            ThreePointArc((-0.398245823, -10.665637082), (-0.735353525, -10.41943282), (-1.143601816, -10.332303749))
            Line((-1.143601816, -10.332303749), (-2.107533838, -10.332303749))
            ThreePointArc((-2.107533838, -10.332303749), (-2.515782129, -10.41943282), (-2.852889831, -10.665637082))
            ThreePointArc((-2.852889831, -10.665637082), (-3.579121218, -10.685857139), (-3.558901161, -9.959625753))
            ThreePointArc((-3.558901161, -9.959625753), (-3.312696898, -9.622518051), (-3.225567827, -9.21426976))
        make_face(mode=Mode.SUBTRACT)
    extrude(amount=-EXTRUDE_1_DEPTH)


solid = part.part
